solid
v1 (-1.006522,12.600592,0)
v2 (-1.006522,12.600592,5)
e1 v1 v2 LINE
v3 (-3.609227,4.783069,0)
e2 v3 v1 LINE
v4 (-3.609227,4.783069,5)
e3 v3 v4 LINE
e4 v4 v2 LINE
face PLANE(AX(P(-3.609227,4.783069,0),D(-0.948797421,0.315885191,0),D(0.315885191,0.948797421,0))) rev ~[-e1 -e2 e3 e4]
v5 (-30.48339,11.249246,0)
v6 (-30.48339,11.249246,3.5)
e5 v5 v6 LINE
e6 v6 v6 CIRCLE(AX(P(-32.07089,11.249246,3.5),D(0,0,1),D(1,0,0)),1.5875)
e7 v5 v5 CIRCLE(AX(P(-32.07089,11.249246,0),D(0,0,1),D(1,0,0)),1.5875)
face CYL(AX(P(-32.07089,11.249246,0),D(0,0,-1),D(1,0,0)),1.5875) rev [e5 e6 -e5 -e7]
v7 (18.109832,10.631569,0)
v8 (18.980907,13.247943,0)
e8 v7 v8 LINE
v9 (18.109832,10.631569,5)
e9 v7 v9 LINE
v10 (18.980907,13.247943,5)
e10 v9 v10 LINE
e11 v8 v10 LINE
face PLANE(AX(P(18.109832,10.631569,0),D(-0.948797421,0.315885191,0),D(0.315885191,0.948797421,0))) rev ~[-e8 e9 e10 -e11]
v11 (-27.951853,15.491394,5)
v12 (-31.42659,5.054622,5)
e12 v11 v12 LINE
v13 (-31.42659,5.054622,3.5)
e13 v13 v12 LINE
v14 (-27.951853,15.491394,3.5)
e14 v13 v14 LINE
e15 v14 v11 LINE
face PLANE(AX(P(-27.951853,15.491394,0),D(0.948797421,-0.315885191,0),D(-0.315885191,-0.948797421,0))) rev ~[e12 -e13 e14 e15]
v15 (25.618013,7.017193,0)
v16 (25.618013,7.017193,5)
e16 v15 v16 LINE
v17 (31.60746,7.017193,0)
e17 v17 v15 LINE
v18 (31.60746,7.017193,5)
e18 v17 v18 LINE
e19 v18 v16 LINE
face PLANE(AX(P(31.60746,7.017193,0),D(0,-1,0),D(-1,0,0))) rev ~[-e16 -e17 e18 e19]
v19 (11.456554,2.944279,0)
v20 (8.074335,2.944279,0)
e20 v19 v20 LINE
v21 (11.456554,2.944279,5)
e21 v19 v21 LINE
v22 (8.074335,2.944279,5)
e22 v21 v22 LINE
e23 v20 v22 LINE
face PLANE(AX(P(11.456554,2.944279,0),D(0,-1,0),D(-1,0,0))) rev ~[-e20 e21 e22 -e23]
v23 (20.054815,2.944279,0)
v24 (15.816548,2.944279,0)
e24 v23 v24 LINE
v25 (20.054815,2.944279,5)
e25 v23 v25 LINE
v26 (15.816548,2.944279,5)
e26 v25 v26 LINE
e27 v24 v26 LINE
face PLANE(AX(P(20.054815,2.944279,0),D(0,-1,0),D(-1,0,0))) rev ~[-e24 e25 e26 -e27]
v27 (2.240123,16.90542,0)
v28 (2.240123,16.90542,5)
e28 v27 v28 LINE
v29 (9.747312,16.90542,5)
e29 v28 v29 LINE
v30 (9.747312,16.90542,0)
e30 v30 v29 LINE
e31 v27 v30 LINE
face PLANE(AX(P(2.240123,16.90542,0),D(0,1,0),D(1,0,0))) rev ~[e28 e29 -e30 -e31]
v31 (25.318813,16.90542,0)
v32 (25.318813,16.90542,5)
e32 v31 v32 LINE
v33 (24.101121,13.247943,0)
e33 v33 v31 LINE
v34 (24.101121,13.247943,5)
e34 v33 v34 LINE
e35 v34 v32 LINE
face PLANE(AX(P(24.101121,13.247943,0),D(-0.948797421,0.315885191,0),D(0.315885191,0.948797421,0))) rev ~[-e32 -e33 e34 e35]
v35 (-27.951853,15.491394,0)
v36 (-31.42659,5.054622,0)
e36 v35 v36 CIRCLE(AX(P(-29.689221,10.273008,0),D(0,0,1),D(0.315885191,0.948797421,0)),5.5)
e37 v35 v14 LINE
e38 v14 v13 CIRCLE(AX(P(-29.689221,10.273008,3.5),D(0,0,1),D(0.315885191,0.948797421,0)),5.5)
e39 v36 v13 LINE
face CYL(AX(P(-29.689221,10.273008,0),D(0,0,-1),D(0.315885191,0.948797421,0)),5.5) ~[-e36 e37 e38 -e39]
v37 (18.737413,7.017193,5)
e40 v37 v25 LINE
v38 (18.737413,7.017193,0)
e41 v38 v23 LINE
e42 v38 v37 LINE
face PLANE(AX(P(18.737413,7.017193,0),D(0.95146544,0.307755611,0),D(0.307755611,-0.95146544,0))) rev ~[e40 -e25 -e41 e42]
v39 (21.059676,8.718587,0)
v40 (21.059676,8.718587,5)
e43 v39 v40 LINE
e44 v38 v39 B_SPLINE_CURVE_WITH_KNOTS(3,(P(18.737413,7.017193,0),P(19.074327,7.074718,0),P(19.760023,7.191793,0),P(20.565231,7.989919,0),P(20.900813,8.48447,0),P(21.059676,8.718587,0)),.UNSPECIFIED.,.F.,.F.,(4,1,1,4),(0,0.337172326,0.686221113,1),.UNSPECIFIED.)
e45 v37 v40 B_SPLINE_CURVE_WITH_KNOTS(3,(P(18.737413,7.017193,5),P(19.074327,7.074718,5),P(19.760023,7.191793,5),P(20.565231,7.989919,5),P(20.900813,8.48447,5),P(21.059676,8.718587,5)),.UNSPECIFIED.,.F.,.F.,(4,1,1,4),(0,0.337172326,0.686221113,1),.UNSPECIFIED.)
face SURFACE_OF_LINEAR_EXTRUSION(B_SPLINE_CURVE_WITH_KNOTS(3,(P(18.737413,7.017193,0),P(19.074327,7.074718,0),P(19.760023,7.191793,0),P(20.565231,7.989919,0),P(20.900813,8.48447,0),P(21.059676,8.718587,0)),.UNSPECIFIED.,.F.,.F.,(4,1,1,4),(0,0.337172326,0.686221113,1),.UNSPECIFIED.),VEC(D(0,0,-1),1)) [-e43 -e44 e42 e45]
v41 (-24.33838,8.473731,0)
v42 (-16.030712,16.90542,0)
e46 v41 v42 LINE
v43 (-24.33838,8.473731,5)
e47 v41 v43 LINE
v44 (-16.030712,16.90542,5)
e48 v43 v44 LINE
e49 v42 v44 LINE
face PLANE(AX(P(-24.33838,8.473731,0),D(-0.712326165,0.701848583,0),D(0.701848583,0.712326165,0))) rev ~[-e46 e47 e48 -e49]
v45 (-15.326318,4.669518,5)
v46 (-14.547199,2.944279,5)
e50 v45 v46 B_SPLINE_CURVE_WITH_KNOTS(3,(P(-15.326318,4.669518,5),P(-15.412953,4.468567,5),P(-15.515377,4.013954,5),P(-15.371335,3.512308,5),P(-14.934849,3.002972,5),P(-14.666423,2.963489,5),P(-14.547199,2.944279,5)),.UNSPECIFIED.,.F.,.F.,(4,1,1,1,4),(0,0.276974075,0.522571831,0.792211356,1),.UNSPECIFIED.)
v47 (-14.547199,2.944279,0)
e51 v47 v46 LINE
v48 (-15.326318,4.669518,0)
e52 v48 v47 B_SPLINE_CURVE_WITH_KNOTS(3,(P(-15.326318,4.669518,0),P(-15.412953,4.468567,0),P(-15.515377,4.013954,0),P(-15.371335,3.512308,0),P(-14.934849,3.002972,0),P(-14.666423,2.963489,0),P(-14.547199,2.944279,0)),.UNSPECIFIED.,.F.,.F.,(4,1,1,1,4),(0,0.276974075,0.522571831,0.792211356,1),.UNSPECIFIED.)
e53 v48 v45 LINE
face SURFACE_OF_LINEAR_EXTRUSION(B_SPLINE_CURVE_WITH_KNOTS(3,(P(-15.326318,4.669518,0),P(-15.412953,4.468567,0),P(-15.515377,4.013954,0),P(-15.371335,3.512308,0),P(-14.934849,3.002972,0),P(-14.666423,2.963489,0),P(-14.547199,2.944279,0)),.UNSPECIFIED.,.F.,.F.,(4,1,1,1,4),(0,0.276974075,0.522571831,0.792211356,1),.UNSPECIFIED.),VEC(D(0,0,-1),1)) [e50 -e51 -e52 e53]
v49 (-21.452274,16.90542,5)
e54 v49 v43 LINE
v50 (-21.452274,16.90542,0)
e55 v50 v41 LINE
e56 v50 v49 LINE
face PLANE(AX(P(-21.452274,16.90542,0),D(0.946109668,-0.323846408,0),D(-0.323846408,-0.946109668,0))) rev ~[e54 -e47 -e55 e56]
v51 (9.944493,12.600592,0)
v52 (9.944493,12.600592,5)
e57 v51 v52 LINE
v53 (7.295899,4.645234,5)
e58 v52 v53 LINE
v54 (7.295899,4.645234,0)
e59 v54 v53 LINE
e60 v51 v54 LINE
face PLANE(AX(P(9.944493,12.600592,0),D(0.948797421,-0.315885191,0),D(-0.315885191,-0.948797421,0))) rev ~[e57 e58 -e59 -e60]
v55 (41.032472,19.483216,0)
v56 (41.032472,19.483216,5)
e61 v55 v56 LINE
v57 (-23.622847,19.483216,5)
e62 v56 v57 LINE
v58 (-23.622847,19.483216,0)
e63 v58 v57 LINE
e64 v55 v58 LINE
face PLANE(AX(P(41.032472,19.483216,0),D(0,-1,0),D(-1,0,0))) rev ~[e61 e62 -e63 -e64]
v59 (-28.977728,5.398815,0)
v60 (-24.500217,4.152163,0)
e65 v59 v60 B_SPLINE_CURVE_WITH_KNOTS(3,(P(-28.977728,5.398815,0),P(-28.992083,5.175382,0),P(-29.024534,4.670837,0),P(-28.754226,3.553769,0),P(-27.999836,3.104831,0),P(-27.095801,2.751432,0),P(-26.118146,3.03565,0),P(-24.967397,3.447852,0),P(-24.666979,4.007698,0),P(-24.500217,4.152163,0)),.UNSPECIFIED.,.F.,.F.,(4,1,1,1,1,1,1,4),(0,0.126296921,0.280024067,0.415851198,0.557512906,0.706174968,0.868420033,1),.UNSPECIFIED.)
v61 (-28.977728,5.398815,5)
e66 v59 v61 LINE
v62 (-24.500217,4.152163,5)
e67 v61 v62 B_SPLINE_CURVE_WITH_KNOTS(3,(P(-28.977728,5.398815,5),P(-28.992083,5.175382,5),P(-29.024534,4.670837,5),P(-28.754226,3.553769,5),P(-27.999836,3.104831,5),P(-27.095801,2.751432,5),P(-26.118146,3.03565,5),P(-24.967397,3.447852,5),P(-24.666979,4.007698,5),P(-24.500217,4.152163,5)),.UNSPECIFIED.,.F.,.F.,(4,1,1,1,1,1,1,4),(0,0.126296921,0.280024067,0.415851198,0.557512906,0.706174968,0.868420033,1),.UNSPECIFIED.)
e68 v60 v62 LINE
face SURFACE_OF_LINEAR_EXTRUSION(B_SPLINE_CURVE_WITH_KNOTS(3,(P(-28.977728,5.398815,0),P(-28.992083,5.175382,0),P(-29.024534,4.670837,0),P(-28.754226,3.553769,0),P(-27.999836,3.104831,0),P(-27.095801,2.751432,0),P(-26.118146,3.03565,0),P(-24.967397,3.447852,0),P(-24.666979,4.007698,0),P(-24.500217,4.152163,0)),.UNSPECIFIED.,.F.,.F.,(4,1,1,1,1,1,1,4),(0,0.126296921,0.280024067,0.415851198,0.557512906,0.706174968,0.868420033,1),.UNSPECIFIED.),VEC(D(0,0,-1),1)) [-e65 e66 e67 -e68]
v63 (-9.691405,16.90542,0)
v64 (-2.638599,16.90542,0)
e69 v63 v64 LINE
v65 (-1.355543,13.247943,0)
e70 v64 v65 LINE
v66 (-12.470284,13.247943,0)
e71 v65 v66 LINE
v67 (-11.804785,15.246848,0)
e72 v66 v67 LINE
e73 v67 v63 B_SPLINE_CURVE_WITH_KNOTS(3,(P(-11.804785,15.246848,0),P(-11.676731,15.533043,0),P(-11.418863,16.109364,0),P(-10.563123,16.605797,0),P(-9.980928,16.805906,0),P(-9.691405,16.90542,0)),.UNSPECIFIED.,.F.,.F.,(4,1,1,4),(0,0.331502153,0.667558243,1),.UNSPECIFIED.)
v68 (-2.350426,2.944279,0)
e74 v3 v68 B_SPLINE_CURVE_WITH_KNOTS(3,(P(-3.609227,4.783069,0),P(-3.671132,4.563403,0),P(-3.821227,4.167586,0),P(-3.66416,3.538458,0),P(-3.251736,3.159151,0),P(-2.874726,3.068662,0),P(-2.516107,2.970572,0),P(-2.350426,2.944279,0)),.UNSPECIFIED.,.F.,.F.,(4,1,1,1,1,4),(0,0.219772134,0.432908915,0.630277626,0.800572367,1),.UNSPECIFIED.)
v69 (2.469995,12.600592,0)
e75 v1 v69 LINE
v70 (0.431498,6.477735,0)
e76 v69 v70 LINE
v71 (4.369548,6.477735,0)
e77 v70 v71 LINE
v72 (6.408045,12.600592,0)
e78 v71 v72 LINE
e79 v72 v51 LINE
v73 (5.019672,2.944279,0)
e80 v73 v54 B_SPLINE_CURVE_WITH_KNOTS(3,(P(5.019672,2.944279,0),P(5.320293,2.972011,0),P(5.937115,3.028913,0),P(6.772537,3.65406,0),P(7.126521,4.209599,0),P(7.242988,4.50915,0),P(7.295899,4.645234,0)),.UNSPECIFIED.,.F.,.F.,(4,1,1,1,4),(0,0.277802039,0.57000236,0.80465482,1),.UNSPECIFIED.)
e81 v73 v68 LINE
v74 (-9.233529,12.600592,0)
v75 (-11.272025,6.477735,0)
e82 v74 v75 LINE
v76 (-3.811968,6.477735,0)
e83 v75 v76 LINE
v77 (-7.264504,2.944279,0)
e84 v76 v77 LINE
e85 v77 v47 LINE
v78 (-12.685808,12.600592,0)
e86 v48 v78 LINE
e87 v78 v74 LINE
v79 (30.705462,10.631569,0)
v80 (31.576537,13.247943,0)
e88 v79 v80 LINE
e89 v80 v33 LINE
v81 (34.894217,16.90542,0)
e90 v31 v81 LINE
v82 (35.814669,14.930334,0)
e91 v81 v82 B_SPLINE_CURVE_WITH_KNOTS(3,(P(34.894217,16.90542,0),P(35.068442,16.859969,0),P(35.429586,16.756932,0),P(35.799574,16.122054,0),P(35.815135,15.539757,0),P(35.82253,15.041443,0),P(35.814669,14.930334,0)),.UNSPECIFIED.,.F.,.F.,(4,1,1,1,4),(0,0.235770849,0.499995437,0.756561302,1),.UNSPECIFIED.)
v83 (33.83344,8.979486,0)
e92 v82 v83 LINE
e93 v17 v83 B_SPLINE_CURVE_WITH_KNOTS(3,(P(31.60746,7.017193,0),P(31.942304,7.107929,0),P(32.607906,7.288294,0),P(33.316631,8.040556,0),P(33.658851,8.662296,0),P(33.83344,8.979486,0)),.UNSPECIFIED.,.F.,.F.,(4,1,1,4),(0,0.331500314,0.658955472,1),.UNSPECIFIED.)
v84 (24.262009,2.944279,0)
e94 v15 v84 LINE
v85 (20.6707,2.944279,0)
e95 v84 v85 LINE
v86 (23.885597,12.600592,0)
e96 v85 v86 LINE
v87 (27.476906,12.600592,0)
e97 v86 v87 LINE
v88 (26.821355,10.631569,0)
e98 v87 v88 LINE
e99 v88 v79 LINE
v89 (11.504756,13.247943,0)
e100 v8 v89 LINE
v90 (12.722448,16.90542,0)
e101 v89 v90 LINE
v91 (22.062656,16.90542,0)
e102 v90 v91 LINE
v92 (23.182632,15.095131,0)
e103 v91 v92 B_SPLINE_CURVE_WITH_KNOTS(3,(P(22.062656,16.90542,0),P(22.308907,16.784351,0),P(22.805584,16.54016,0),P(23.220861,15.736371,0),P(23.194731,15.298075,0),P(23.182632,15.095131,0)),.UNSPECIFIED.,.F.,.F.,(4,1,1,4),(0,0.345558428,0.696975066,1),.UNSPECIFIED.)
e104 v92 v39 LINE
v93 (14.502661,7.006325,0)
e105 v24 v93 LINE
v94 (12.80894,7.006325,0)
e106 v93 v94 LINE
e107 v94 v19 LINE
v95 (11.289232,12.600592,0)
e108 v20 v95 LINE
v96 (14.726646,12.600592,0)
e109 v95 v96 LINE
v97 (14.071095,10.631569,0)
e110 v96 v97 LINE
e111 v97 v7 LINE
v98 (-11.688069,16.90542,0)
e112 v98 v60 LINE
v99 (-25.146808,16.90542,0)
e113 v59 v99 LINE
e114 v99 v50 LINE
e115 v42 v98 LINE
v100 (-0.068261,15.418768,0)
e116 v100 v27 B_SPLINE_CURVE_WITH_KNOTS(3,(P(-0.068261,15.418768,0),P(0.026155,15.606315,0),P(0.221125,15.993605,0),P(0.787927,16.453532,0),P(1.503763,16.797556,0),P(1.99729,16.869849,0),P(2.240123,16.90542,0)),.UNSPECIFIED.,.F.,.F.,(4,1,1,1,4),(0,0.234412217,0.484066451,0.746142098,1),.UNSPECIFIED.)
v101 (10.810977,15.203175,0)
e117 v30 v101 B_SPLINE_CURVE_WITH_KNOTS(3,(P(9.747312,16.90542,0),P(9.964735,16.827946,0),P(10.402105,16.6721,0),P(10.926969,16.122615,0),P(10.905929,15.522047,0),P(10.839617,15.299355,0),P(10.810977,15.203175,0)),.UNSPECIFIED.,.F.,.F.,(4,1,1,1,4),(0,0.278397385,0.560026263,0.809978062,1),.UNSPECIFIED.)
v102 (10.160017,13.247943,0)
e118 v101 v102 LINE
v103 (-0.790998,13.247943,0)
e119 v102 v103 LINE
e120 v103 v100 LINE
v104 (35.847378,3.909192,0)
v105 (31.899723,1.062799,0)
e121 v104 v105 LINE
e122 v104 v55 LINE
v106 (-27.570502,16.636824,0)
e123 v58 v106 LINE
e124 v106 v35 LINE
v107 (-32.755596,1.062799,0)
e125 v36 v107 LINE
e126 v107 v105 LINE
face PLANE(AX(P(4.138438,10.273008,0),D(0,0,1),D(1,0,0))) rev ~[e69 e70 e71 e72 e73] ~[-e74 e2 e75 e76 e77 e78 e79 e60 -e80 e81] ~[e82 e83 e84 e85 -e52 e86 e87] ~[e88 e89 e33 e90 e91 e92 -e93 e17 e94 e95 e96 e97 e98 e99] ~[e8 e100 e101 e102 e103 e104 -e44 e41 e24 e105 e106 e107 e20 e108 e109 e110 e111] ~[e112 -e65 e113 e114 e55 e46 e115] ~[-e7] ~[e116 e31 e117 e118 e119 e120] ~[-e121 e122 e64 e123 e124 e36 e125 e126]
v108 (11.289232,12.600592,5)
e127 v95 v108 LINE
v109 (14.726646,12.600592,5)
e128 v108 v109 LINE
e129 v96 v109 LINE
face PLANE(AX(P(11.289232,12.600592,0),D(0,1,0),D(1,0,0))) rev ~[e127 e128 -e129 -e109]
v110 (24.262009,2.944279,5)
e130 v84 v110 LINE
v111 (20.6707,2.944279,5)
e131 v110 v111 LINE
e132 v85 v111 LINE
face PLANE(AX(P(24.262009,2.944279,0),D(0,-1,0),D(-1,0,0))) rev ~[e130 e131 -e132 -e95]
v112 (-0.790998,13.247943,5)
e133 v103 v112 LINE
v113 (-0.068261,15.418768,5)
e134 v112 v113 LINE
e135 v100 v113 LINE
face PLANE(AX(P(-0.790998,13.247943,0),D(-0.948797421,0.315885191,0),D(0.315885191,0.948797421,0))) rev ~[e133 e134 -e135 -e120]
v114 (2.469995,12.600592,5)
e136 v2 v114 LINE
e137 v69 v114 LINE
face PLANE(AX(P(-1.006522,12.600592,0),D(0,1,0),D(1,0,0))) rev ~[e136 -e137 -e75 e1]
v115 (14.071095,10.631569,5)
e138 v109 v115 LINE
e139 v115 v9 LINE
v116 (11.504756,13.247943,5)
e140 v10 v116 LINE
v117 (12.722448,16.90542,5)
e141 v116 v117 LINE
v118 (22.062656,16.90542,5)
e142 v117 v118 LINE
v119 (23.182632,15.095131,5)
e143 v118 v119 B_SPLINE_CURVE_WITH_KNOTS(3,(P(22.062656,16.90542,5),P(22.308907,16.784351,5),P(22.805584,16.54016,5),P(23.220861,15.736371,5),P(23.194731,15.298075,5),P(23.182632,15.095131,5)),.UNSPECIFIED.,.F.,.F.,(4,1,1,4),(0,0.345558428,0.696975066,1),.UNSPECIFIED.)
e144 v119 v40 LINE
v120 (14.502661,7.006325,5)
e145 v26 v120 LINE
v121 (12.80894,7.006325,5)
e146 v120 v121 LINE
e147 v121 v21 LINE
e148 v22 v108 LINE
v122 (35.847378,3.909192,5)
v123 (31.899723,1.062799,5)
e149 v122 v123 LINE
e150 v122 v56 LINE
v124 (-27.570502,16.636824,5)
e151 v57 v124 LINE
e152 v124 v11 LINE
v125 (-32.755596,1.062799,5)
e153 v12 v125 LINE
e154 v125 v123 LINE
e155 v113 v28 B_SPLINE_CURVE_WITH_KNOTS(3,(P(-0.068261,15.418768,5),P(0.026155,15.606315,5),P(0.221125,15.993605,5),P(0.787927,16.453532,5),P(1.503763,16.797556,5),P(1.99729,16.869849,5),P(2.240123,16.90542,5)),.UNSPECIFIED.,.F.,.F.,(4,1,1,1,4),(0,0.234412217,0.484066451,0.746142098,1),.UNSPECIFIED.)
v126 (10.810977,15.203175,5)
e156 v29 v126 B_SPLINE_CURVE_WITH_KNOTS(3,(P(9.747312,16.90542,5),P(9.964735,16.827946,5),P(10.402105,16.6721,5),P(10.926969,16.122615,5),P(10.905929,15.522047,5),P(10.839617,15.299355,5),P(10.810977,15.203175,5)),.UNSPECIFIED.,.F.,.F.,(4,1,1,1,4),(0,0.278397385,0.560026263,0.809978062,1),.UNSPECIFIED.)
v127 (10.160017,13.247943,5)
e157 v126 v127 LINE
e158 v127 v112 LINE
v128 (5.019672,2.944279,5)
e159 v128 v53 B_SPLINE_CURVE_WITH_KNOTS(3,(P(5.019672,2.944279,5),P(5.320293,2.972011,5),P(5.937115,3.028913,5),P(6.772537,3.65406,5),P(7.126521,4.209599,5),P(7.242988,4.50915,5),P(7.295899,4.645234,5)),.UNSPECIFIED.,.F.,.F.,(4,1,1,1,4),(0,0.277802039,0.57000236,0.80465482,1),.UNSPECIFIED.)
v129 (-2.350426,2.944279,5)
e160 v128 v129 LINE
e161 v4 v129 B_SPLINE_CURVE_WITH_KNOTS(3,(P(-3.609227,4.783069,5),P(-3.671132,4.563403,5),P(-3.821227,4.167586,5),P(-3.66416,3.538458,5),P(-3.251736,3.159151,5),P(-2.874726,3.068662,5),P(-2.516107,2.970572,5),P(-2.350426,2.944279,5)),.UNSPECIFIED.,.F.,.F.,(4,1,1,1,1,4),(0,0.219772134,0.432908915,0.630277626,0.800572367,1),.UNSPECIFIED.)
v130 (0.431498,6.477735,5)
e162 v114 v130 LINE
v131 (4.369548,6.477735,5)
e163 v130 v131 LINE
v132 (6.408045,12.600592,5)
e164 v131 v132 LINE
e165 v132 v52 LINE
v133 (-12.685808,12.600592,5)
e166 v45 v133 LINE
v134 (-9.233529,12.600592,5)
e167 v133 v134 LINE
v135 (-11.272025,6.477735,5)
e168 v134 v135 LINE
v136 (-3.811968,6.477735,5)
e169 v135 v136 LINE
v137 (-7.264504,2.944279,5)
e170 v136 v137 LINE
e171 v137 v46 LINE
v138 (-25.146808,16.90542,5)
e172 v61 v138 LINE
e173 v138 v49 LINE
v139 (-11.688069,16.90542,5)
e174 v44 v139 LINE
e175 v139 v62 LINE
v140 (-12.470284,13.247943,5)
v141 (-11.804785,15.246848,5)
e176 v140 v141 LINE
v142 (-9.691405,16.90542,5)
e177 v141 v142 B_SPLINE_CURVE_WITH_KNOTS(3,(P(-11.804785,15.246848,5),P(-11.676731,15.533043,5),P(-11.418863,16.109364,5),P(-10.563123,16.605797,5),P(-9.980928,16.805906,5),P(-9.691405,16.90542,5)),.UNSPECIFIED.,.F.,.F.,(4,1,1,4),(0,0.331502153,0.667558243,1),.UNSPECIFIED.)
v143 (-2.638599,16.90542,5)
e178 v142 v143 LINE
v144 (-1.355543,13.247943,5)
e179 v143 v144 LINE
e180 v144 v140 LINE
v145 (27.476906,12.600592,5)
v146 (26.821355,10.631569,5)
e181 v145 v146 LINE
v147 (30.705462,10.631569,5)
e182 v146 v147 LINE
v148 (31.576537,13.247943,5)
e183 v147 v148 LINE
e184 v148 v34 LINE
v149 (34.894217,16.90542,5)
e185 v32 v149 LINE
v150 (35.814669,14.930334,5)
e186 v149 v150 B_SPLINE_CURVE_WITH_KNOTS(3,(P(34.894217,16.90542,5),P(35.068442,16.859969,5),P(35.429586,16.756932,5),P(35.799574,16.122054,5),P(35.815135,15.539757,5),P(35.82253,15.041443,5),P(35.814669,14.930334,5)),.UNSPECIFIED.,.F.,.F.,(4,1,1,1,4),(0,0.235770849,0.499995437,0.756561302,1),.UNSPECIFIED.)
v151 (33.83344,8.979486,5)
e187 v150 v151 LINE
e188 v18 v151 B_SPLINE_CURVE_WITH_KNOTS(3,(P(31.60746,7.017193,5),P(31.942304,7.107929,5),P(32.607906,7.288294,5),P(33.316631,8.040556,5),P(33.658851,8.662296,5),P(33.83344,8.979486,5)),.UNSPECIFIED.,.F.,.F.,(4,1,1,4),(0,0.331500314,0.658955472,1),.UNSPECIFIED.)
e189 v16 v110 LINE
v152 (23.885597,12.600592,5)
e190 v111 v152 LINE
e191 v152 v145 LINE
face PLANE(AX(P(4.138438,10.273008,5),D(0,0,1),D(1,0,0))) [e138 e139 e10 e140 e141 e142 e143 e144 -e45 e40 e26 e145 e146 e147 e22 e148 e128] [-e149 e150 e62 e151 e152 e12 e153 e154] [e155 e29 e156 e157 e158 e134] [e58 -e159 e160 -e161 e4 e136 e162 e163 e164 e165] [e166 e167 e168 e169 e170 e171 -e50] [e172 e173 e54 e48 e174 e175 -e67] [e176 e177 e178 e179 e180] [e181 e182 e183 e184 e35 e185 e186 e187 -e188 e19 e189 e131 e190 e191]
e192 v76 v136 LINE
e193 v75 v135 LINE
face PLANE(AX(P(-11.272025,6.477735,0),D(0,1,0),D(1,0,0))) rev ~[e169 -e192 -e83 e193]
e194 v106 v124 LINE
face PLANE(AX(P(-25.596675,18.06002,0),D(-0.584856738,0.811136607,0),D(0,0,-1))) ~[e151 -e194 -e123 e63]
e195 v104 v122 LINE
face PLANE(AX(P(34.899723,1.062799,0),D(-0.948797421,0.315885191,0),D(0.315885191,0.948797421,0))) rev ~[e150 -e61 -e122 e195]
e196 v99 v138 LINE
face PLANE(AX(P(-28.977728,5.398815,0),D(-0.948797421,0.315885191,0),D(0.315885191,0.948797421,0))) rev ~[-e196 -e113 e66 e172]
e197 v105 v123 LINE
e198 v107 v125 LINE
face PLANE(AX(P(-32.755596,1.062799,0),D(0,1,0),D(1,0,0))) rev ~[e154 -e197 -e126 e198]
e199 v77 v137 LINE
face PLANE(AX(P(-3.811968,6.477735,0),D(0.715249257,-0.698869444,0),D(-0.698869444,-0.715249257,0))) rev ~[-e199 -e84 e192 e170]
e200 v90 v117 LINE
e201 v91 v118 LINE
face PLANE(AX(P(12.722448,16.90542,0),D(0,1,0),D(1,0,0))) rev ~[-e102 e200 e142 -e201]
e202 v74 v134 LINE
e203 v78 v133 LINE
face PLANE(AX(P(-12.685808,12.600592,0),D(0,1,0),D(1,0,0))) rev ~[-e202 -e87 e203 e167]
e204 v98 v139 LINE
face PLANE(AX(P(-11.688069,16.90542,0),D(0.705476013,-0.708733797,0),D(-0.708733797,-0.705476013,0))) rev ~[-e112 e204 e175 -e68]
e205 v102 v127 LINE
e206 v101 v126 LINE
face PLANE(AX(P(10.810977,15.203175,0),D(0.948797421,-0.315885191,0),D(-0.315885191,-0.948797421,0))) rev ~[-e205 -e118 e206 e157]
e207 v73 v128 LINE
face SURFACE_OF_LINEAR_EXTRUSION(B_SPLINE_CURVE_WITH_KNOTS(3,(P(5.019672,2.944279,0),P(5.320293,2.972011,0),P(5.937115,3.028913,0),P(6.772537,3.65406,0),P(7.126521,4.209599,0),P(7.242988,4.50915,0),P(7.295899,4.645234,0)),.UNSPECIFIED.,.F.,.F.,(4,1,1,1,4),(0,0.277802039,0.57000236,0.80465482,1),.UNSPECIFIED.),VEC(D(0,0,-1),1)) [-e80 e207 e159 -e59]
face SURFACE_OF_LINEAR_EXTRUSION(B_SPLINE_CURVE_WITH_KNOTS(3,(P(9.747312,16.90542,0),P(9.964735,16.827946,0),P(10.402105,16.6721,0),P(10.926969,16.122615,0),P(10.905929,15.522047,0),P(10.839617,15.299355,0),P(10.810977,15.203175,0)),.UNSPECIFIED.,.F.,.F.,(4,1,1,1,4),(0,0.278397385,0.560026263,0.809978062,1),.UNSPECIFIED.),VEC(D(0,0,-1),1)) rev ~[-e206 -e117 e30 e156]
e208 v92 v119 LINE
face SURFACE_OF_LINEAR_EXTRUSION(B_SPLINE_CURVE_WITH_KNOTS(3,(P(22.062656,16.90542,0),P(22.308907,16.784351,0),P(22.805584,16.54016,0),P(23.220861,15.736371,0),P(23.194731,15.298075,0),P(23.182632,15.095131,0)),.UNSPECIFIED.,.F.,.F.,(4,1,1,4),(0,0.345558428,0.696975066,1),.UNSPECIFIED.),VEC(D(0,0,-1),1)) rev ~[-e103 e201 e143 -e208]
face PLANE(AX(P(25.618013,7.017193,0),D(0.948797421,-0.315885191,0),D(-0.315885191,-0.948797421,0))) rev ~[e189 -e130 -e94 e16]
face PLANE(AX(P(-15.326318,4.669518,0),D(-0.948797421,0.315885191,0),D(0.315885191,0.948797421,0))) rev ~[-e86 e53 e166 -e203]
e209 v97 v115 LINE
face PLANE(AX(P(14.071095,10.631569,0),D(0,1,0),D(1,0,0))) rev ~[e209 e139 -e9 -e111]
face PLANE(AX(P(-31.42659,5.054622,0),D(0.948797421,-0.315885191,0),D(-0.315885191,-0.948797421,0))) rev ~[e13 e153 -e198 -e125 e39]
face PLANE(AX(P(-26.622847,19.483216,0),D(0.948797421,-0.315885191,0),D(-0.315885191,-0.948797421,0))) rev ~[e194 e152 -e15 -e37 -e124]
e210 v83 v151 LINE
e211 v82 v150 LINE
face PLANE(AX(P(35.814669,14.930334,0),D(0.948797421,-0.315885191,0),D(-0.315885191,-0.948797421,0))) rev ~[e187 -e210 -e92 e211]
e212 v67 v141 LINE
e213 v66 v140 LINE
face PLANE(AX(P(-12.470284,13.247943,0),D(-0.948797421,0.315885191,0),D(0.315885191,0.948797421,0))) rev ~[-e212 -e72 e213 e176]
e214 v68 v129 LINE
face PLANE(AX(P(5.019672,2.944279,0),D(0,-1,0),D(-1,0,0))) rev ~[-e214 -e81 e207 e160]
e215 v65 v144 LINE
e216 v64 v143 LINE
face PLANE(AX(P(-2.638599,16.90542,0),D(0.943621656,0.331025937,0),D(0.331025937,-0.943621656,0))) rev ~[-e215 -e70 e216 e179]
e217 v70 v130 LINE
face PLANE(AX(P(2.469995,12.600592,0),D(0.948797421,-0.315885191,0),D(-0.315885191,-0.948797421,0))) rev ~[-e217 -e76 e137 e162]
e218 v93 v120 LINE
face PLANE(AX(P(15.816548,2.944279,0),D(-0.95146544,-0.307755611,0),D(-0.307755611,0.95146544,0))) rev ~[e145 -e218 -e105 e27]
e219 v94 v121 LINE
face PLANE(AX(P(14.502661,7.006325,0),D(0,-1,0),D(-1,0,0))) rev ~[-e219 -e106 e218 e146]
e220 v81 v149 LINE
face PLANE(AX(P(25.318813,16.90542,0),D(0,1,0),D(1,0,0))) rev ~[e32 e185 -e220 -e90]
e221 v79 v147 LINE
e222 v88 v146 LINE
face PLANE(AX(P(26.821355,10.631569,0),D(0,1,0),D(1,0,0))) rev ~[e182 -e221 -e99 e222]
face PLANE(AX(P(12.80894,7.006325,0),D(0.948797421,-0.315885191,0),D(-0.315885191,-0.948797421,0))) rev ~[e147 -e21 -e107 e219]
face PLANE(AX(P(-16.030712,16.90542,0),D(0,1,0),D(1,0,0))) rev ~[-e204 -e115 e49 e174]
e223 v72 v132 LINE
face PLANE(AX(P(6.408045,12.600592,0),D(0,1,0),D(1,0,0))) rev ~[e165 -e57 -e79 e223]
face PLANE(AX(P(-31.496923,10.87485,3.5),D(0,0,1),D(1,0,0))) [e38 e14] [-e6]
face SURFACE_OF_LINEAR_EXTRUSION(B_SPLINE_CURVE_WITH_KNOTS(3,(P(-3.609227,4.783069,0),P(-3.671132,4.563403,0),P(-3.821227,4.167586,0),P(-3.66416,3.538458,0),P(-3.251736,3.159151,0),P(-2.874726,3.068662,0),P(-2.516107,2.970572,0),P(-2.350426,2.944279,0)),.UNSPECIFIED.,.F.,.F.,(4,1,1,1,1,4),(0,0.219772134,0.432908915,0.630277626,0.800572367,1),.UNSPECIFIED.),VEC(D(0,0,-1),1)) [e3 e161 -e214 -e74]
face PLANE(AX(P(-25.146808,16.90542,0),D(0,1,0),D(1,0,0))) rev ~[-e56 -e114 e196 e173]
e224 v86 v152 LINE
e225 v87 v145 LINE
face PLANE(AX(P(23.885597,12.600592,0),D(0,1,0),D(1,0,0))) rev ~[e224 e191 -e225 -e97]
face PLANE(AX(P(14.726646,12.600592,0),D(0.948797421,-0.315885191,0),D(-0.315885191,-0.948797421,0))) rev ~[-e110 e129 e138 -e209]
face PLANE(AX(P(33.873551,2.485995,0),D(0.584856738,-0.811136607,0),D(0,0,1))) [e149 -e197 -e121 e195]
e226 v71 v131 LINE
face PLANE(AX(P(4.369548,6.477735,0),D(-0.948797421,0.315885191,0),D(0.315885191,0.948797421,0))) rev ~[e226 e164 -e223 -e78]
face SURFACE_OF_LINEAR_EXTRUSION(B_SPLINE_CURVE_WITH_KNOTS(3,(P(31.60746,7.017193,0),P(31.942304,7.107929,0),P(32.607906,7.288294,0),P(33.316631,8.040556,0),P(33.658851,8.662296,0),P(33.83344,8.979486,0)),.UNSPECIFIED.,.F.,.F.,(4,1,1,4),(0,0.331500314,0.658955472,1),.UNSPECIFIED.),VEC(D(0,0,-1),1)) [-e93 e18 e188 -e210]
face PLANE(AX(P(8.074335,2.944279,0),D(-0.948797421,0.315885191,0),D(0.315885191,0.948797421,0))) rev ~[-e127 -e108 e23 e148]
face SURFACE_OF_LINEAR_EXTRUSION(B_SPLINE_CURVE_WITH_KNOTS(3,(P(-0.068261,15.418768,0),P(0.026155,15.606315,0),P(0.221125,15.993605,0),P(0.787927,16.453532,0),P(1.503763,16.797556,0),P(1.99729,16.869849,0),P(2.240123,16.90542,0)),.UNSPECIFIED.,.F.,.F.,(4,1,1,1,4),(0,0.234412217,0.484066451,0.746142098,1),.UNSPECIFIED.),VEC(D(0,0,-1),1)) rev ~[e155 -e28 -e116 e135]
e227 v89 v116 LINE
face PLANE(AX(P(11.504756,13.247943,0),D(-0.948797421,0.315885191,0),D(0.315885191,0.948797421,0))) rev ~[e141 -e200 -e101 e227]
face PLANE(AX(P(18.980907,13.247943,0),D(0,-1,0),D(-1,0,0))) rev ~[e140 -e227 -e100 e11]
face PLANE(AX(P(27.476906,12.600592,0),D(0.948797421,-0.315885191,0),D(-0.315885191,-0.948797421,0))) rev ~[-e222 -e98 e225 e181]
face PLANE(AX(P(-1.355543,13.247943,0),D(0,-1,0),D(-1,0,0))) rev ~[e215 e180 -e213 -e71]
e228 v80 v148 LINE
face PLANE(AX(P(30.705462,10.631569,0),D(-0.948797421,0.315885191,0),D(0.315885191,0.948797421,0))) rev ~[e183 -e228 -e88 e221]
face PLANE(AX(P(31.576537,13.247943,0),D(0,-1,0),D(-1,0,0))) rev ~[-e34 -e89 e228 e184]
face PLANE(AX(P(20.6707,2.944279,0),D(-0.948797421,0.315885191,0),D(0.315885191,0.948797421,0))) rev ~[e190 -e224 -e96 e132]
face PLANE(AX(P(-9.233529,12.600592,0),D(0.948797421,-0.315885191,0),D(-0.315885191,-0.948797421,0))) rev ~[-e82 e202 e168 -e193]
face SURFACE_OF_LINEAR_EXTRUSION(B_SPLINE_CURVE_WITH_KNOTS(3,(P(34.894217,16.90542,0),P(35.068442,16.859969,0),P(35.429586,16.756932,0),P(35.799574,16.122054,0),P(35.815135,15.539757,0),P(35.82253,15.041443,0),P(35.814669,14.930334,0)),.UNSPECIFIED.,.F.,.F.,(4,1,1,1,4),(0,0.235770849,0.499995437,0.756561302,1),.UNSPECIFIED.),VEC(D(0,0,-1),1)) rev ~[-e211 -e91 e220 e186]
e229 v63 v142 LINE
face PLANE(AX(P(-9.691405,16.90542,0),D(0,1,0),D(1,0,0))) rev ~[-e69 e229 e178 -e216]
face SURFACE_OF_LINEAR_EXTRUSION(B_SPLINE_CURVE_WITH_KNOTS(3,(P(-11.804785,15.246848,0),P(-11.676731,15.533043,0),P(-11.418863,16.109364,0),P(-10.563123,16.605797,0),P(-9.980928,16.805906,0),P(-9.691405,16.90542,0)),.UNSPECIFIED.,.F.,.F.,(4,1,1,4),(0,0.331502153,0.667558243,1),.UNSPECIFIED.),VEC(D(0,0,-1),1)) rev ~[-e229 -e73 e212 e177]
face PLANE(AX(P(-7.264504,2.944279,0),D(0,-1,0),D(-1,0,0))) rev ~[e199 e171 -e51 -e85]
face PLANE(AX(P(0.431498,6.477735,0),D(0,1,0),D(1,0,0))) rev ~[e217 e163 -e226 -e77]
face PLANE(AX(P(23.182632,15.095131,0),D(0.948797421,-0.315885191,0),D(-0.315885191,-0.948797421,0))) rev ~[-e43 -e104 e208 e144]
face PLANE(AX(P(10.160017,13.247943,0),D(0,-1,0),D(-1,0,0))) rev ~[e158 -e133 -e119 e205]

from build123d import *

# Parameters (mm, degrees)
F0_R     = 1.5875
F1_DEPTH = 3.5
F2_DEPTH = 5
F3_SIZE  = 3


with BuildPart() as f1:
    # F0 (on Top) → F1 (new body)
    with BuildSketch(Plane.XY):
        with BuildLine():
            Line((-31.4265900099, 5.0546218881), (-27.9518529079, 15.4913935188))
            ThreePointArc((-27.9518529079, 15.4913935188), (-34.9076072742, 12.0103762544), (-31.4265900099, 5.0546218881))
        make_face()
        with Locations((-32.070890069, 11.2492460757)):
            Circle(F0_R, mode=Mode.SUBTRACT)
    extrude(amount=F1_DEPTH)

    # F0 (on Top) → F2 (join)
    with BuildSketch(Plane.XY):
        Polygon((41.0324722573, 19.4832161069), (-26.6228467226, 19.4832161069), (-27.9518529079, 15.4913935188), (-31.4265900099, 5.0546218881), (-32.7555961951, 1.0627993), (34.8997227848, 1.0627993), align=None)
        with BuildLine():
            Line((-28.9777275175, 5.3988145664), (-25.1468084753, 16.9054195285))
            Line((-25.1468084753, 16.9054195285), (-21.4522741735, 16.9054195285))
            Line((-21.4522741735, 16.9054195285), (-24.3383795023, 8.4737306461))
            Line((-24.3383795023, 8.4737306461), (-16.0307120532, 16.9054195285))
            Line((-16.0307120532, 16.9054195285), (-11.6880685091, 16.9054195285))
            Line((-11.6880685091, 16.9054195285), (-24.5002172887, 4.1521633975))
            add(Edge.make_bspline(
                [(-28.9777275175, 5.3988145664), (-28.9920829502, 5.1753823662), (-29.0245338372, 4.6708365307), (-28.75422588, 3.5537688412), (-27.9998356891, 3.1048311498), (-27.0958013154, 2.7514319548), (-26.1181460942, 3.0356500809), (-24.9673965188, 3.4478523222), (-24.6669790891, 4.0076975842), (-24.5002172887, 4.1521633975)],
                knots=[0, 0, 0, 0, 0.1262969211, 0.2800240671, 0.4158511978, 0.5575129061, 0.7061749681, 0.8684200327, 1, 1, 1, 1], degree=3))
        make_face(mode=Mode.SUBTRACT)
        with BuildLine():
            Line((-15.3263181921, 4.6695175429), (-12.6858081932, 12.6005923375))
            Line((-12.6858081932, 12.6005923375), (-9.2335287482, 12.6005923375))
            Line((-9.2335287482, 12.6005923375), (-11.2720251255, 6.4777345397))
            Line((-11.2720251255, 6.4777345397), (-3.8119675592, 6.4777345397))
            Line((-3.8119675592, 6.4777345397), (-7.2645042092, 2.9442787636))
            Line((-7.2645042092, 2.9442787636), (-14.5471990108, 2.9442787636))
            add(Edge.make_bspline(
                [(-15.3263181921, 4.6695175429), (-15.412953449, 4.4685670415), (-15.5153766012, 4.0139535839), (-15.3713346976, 3.5123078219), (-14.9348493955, 3.0029722267), (-14.6664225121, 2.9634887966), (-14.5471990108, 2.9442787636)],
                knots=[0, 0, 0, 0, 0.2769740748, 0.5225718313, 0.7922113558, 1, 1, 1, 1], degree=3))
        make_face(mode=Mode.SUBTRACT)
        with BuildLine():
            Line((-3.6092272494, 4.7830686145), (-1.006522056, 12.6005923375))
            Line((-1.006522056, 12.6005923375), (2.4699948262, 12.6005923375))
            Line((2.4699948262, 12.6005923375), (0.4314984489, 6.4777345397))
            Line((0.4314984489, 6.4777345397), (4.3695482254, 6.4777345397))
            Line((4.3695482254, 6.4777345397), (6.4080446027, 12.6005923375))
            Line((6.4080446027, 12.6005923375), (9.944493111, 12.6005923375))
            Line((9.944493111, 12.6005923375), (7.295898505, 4.6452344979))
            add(Edge.make_bspline(
                [(5.019672215, 2.9442787636), (5.3202927104, 2.9720111906), (5.9371146467, 3.0289133965), (6.7725368253, 3.6540595509), (7.1265212599, 4.2095994242), (7.2429882815, 4.5091504028), (7.295898505, 4.6452344979)],
                knots=[0, 0, 0, 0, 0.2778020394, 0.5700023599, 0.8046548203, 1, 1, 1, 1], degree=3))
            Line((5.019672215, 2.9442787636), (-2.3504255805, 2.9442787636))
            add(Edge.make_bspline(
                [(-3.6092272494, 4.7830686145), (-3.67113197, 4.5634032575), (-3.8212267897, 4.1675860799), (-3.6641600553, 3.5384581919), (-3.2517359041, 3.1591508461), (-2.8747256329, 3.0686619256), (-2.516107329, 2.9705723243), (-2.3504255805, 2.9442787636)],
                knots=[0, 0, 0, 0, 0.2197721338, 0.4329089146, 0.6302776263, 0.8005723672, 1, 1, 1, 1], degree=3))
        make_face(mode=Mode.SUBTRACT)
        with BuildLine():
            Line((14.7266461202, 12.6005923375), (14.0710948035, 10.6315687299))
            Line((14.0710948035, 10.6315687299), (18.1098322433, 10.6315687299))
            Line((18.1098322433, 10.6315687299), (18.9809072763, 13.247942552))
            Line((18.9809072763, 13.247942552), (11.5047557417, 13.247942552))
            Line((11.5047557417, 13.247942552), (12.7224475145, 16.9054195285))
            Line((12.7224475145, 16.9054195285), (22.0626555383, 16.9054195285))
            add(Edge.make_bspline(
                [(22.0626555383, 16.9054195285), (22.3089069671, 16.7843506596), (22.805584496, 16.5401604557), (23.2208609454, 15.7363707454), (23.1947312081, 15.2980748511), (23.1826324016, 15.0951314718)],
                knots=[0, 0, 0, 0, 0.3455584276, 0.6969750663, 1, 1, 1, 1], degree=3))
            Line((23.1826324016, 15.0951314718), (21.0596756466, 8.7185872374))
            add(Edge.make_bspline(
                [(18.7374129891, 7.0171933621), (19.0743271, 7.0747176968), (19.7600226879, 7.191792587), (20.5652309975, 7.9899188639), (20.9008130115, 8.4844696711), (21.0596756466, 8.7185872374)],
                knots=[0, 0, 0, 0, 0.3371723256, 0.6862211127, 1, 1, 1, 1], degree=3))
            Line((18.7374129891, 7.0171933621), (20.0548148302, 2.9442787636))
            Line((20.0548148302, 2.9442787636), (15.8165477837, 2.9442787636))
            Line((15.8165477837, 2.9442787636), (14.5026613027, 7.0063251812))
            Line((14.5026613027, 7.0063251812), (12.8089402386, 7.0063251812))
            Line((12.8089402386, 7.0063251812), (11.4565542809, 2.9442787636))
            Line((11.4565542809, 2.9442787636), (8.0743345234, 2.9442787636))
            Line((8.0743345234, 2.9442787636), (11.2892320254, 12.6005923375))
            Line((11.2892320254, 12.6005923375), (14.7266461202, 12.6005923375))
        make_face(mode=Mode.SUBTRACT)
        with BuildLine():
            Line((24.1011208061, 13.247942552), (25.3188125789, 16.9054195285))
            Line((25.3188125789, 16.9054195285), (34.8942168057, 16.9054195285))
            add(Edge.make_bspline(
                [(34.8942168057, 16.9054195285), (35.0684423878, 16.859968893), (35.4295860068, 16.7569322968), (35.7995742049, 16.1220536503), (35.8151353066, 15.5397566812), (35.8225300681, 15.0414425386), (35.8146689832, 14.9303343571)],
                knots=[0, 0, 0, 0, 0.2357708493, 0.4999954373, 0.7565613025, 1, 1, 1, 1], degree=3))
            Line((35.8146689832, 14.9303343571), (33.8334400243, 8.9794858223))
            add(Edge.make_bspline(
                [(31.6074602306, 7.0171933621), (31.942303977, 7.1079293231), (32.6079055145, 7.2882940327), (33.3166309684, 8.0405557477), (33.6588514346, 8.6622961839), (33.8334400243, 8.9794858223)],
                knots=[0, 0, 0, 0, 0.3315003144, 0.658955472, 1, 1, 1, 1], degree=3))
            Line((31.6074602306, 7.0171933621), (25.618012828, 7.0171933621))
            Line((25.618012828, 7.0171933621), (24.2620085031, 2.9442787636))
            Line((24.2620085031, 2.9442787636), (20.6706995878, 2.9442787636))
            Line((20.6706995878, 2.9442787636), (23.8855970898, 12.6005923375))
            Line((23.8855970898, 12.6005923375), (27.4769060051, 12.6005923375))
            Line((27.4769060051, 12.6005923375), (26.8213546884, 10.6315687299))
            Line((26.8213546884, 10.6315687299), (30.7054615629, 10.6315687299))
            Line((30.7054615629, 10.6315687299), (31.5765365958, 13.247942552))
            Line((31.5765365958, 13.247942552), (24.1011208061, 13.247942552))
        make_face(mode=Mode.SUBTRACT)
        with BuildLine():
            Line((-1.3555428013, 13.247942552), (-12.4702844769, 13.247942552))
            Line((-12.4702844769, 13.247942552), (-11.8047845561, 15.2468479336))
            add(Edge.make_bspline(
                [(-11.8047845561, 15.2468479336), (-11.6767305289, 15.5330426408), (-11.4188633608, 16.1093635911), (-10.5631227863, 16.6057970327), (-9.9809284289, 16.8059060028), (-9.6914051101, 16.9054195285)],
                knots=[0, 0, 0, 0, 0.3315021528, 0.6675582426, 1, 1, 1, 1], degree=3))
            Line((-9.6914051101, 16.9054195285), (-2.6385991368, 16.9054195285))
            Line((-2.6385991368, 16.9054195285), (-1.3555428013, 13.247942552))
        make_face(mode=Mode.SUBTRACT)
        with BuildLine():
            Line((10.8109767279, 15.2031753147), (10.1600168273, 13.247942552))
            Line((10.1600168273, 13.247942552), (-0.7909983397, 13.247942552))
            Line((-0.7909983397, 13.247942552), (-0.0682607797, 15.4187677514))
            add(Edge.make_bspline(
                [(-0.0682607797, 15.4187677514), (0.026154863, 15.6063153162), (0.2211252684, 15.9936052156), (0.7879268458, 16.4535320876), (1.5037634571, 16.7975556024), (1.9972902544, 16.8698487126), (2.2401232272, 16.9054195285)],
                knots=[0, 0, 0, 0, 0.2344122175, 0.484066451, 0.7461420976, 1, 1, 1, 1], degree=3))
            Line((2.2401232272, 16.9054195285), (9.7473124042, 16.9054195285))
            add(Edge.make_bspline(
                [(9.7473124042, 16.9054195285), (9.9647353691, 16.8279462307), (10.4021050332, 16.6721003647), (10.9269689865, 16.122615239), (10.9059285861, 15.5220470488), (10.8396165057, 15.2993547447), (10.8109767279, 15.2031753147)],
                knots=[0, 0, 0, 0, 0.2783973846, 0.5600262634, 0.8099780622, 1, 1, 1, 1], degree=3))
        make_face(mode=Mode.SUBTRACT)
    extrude(amount=F2_DEPTH)

    # F3
    f3_edges = [f1.edges().sort_by_distance(p)[0] for p in [
        (-26.622847, 19.483216, 2.5),
        (34.899723, 1.062799, 2.5),
    ]]
    chamfer(f3_edges, length=F3_SIZE)


solid = f1.part
